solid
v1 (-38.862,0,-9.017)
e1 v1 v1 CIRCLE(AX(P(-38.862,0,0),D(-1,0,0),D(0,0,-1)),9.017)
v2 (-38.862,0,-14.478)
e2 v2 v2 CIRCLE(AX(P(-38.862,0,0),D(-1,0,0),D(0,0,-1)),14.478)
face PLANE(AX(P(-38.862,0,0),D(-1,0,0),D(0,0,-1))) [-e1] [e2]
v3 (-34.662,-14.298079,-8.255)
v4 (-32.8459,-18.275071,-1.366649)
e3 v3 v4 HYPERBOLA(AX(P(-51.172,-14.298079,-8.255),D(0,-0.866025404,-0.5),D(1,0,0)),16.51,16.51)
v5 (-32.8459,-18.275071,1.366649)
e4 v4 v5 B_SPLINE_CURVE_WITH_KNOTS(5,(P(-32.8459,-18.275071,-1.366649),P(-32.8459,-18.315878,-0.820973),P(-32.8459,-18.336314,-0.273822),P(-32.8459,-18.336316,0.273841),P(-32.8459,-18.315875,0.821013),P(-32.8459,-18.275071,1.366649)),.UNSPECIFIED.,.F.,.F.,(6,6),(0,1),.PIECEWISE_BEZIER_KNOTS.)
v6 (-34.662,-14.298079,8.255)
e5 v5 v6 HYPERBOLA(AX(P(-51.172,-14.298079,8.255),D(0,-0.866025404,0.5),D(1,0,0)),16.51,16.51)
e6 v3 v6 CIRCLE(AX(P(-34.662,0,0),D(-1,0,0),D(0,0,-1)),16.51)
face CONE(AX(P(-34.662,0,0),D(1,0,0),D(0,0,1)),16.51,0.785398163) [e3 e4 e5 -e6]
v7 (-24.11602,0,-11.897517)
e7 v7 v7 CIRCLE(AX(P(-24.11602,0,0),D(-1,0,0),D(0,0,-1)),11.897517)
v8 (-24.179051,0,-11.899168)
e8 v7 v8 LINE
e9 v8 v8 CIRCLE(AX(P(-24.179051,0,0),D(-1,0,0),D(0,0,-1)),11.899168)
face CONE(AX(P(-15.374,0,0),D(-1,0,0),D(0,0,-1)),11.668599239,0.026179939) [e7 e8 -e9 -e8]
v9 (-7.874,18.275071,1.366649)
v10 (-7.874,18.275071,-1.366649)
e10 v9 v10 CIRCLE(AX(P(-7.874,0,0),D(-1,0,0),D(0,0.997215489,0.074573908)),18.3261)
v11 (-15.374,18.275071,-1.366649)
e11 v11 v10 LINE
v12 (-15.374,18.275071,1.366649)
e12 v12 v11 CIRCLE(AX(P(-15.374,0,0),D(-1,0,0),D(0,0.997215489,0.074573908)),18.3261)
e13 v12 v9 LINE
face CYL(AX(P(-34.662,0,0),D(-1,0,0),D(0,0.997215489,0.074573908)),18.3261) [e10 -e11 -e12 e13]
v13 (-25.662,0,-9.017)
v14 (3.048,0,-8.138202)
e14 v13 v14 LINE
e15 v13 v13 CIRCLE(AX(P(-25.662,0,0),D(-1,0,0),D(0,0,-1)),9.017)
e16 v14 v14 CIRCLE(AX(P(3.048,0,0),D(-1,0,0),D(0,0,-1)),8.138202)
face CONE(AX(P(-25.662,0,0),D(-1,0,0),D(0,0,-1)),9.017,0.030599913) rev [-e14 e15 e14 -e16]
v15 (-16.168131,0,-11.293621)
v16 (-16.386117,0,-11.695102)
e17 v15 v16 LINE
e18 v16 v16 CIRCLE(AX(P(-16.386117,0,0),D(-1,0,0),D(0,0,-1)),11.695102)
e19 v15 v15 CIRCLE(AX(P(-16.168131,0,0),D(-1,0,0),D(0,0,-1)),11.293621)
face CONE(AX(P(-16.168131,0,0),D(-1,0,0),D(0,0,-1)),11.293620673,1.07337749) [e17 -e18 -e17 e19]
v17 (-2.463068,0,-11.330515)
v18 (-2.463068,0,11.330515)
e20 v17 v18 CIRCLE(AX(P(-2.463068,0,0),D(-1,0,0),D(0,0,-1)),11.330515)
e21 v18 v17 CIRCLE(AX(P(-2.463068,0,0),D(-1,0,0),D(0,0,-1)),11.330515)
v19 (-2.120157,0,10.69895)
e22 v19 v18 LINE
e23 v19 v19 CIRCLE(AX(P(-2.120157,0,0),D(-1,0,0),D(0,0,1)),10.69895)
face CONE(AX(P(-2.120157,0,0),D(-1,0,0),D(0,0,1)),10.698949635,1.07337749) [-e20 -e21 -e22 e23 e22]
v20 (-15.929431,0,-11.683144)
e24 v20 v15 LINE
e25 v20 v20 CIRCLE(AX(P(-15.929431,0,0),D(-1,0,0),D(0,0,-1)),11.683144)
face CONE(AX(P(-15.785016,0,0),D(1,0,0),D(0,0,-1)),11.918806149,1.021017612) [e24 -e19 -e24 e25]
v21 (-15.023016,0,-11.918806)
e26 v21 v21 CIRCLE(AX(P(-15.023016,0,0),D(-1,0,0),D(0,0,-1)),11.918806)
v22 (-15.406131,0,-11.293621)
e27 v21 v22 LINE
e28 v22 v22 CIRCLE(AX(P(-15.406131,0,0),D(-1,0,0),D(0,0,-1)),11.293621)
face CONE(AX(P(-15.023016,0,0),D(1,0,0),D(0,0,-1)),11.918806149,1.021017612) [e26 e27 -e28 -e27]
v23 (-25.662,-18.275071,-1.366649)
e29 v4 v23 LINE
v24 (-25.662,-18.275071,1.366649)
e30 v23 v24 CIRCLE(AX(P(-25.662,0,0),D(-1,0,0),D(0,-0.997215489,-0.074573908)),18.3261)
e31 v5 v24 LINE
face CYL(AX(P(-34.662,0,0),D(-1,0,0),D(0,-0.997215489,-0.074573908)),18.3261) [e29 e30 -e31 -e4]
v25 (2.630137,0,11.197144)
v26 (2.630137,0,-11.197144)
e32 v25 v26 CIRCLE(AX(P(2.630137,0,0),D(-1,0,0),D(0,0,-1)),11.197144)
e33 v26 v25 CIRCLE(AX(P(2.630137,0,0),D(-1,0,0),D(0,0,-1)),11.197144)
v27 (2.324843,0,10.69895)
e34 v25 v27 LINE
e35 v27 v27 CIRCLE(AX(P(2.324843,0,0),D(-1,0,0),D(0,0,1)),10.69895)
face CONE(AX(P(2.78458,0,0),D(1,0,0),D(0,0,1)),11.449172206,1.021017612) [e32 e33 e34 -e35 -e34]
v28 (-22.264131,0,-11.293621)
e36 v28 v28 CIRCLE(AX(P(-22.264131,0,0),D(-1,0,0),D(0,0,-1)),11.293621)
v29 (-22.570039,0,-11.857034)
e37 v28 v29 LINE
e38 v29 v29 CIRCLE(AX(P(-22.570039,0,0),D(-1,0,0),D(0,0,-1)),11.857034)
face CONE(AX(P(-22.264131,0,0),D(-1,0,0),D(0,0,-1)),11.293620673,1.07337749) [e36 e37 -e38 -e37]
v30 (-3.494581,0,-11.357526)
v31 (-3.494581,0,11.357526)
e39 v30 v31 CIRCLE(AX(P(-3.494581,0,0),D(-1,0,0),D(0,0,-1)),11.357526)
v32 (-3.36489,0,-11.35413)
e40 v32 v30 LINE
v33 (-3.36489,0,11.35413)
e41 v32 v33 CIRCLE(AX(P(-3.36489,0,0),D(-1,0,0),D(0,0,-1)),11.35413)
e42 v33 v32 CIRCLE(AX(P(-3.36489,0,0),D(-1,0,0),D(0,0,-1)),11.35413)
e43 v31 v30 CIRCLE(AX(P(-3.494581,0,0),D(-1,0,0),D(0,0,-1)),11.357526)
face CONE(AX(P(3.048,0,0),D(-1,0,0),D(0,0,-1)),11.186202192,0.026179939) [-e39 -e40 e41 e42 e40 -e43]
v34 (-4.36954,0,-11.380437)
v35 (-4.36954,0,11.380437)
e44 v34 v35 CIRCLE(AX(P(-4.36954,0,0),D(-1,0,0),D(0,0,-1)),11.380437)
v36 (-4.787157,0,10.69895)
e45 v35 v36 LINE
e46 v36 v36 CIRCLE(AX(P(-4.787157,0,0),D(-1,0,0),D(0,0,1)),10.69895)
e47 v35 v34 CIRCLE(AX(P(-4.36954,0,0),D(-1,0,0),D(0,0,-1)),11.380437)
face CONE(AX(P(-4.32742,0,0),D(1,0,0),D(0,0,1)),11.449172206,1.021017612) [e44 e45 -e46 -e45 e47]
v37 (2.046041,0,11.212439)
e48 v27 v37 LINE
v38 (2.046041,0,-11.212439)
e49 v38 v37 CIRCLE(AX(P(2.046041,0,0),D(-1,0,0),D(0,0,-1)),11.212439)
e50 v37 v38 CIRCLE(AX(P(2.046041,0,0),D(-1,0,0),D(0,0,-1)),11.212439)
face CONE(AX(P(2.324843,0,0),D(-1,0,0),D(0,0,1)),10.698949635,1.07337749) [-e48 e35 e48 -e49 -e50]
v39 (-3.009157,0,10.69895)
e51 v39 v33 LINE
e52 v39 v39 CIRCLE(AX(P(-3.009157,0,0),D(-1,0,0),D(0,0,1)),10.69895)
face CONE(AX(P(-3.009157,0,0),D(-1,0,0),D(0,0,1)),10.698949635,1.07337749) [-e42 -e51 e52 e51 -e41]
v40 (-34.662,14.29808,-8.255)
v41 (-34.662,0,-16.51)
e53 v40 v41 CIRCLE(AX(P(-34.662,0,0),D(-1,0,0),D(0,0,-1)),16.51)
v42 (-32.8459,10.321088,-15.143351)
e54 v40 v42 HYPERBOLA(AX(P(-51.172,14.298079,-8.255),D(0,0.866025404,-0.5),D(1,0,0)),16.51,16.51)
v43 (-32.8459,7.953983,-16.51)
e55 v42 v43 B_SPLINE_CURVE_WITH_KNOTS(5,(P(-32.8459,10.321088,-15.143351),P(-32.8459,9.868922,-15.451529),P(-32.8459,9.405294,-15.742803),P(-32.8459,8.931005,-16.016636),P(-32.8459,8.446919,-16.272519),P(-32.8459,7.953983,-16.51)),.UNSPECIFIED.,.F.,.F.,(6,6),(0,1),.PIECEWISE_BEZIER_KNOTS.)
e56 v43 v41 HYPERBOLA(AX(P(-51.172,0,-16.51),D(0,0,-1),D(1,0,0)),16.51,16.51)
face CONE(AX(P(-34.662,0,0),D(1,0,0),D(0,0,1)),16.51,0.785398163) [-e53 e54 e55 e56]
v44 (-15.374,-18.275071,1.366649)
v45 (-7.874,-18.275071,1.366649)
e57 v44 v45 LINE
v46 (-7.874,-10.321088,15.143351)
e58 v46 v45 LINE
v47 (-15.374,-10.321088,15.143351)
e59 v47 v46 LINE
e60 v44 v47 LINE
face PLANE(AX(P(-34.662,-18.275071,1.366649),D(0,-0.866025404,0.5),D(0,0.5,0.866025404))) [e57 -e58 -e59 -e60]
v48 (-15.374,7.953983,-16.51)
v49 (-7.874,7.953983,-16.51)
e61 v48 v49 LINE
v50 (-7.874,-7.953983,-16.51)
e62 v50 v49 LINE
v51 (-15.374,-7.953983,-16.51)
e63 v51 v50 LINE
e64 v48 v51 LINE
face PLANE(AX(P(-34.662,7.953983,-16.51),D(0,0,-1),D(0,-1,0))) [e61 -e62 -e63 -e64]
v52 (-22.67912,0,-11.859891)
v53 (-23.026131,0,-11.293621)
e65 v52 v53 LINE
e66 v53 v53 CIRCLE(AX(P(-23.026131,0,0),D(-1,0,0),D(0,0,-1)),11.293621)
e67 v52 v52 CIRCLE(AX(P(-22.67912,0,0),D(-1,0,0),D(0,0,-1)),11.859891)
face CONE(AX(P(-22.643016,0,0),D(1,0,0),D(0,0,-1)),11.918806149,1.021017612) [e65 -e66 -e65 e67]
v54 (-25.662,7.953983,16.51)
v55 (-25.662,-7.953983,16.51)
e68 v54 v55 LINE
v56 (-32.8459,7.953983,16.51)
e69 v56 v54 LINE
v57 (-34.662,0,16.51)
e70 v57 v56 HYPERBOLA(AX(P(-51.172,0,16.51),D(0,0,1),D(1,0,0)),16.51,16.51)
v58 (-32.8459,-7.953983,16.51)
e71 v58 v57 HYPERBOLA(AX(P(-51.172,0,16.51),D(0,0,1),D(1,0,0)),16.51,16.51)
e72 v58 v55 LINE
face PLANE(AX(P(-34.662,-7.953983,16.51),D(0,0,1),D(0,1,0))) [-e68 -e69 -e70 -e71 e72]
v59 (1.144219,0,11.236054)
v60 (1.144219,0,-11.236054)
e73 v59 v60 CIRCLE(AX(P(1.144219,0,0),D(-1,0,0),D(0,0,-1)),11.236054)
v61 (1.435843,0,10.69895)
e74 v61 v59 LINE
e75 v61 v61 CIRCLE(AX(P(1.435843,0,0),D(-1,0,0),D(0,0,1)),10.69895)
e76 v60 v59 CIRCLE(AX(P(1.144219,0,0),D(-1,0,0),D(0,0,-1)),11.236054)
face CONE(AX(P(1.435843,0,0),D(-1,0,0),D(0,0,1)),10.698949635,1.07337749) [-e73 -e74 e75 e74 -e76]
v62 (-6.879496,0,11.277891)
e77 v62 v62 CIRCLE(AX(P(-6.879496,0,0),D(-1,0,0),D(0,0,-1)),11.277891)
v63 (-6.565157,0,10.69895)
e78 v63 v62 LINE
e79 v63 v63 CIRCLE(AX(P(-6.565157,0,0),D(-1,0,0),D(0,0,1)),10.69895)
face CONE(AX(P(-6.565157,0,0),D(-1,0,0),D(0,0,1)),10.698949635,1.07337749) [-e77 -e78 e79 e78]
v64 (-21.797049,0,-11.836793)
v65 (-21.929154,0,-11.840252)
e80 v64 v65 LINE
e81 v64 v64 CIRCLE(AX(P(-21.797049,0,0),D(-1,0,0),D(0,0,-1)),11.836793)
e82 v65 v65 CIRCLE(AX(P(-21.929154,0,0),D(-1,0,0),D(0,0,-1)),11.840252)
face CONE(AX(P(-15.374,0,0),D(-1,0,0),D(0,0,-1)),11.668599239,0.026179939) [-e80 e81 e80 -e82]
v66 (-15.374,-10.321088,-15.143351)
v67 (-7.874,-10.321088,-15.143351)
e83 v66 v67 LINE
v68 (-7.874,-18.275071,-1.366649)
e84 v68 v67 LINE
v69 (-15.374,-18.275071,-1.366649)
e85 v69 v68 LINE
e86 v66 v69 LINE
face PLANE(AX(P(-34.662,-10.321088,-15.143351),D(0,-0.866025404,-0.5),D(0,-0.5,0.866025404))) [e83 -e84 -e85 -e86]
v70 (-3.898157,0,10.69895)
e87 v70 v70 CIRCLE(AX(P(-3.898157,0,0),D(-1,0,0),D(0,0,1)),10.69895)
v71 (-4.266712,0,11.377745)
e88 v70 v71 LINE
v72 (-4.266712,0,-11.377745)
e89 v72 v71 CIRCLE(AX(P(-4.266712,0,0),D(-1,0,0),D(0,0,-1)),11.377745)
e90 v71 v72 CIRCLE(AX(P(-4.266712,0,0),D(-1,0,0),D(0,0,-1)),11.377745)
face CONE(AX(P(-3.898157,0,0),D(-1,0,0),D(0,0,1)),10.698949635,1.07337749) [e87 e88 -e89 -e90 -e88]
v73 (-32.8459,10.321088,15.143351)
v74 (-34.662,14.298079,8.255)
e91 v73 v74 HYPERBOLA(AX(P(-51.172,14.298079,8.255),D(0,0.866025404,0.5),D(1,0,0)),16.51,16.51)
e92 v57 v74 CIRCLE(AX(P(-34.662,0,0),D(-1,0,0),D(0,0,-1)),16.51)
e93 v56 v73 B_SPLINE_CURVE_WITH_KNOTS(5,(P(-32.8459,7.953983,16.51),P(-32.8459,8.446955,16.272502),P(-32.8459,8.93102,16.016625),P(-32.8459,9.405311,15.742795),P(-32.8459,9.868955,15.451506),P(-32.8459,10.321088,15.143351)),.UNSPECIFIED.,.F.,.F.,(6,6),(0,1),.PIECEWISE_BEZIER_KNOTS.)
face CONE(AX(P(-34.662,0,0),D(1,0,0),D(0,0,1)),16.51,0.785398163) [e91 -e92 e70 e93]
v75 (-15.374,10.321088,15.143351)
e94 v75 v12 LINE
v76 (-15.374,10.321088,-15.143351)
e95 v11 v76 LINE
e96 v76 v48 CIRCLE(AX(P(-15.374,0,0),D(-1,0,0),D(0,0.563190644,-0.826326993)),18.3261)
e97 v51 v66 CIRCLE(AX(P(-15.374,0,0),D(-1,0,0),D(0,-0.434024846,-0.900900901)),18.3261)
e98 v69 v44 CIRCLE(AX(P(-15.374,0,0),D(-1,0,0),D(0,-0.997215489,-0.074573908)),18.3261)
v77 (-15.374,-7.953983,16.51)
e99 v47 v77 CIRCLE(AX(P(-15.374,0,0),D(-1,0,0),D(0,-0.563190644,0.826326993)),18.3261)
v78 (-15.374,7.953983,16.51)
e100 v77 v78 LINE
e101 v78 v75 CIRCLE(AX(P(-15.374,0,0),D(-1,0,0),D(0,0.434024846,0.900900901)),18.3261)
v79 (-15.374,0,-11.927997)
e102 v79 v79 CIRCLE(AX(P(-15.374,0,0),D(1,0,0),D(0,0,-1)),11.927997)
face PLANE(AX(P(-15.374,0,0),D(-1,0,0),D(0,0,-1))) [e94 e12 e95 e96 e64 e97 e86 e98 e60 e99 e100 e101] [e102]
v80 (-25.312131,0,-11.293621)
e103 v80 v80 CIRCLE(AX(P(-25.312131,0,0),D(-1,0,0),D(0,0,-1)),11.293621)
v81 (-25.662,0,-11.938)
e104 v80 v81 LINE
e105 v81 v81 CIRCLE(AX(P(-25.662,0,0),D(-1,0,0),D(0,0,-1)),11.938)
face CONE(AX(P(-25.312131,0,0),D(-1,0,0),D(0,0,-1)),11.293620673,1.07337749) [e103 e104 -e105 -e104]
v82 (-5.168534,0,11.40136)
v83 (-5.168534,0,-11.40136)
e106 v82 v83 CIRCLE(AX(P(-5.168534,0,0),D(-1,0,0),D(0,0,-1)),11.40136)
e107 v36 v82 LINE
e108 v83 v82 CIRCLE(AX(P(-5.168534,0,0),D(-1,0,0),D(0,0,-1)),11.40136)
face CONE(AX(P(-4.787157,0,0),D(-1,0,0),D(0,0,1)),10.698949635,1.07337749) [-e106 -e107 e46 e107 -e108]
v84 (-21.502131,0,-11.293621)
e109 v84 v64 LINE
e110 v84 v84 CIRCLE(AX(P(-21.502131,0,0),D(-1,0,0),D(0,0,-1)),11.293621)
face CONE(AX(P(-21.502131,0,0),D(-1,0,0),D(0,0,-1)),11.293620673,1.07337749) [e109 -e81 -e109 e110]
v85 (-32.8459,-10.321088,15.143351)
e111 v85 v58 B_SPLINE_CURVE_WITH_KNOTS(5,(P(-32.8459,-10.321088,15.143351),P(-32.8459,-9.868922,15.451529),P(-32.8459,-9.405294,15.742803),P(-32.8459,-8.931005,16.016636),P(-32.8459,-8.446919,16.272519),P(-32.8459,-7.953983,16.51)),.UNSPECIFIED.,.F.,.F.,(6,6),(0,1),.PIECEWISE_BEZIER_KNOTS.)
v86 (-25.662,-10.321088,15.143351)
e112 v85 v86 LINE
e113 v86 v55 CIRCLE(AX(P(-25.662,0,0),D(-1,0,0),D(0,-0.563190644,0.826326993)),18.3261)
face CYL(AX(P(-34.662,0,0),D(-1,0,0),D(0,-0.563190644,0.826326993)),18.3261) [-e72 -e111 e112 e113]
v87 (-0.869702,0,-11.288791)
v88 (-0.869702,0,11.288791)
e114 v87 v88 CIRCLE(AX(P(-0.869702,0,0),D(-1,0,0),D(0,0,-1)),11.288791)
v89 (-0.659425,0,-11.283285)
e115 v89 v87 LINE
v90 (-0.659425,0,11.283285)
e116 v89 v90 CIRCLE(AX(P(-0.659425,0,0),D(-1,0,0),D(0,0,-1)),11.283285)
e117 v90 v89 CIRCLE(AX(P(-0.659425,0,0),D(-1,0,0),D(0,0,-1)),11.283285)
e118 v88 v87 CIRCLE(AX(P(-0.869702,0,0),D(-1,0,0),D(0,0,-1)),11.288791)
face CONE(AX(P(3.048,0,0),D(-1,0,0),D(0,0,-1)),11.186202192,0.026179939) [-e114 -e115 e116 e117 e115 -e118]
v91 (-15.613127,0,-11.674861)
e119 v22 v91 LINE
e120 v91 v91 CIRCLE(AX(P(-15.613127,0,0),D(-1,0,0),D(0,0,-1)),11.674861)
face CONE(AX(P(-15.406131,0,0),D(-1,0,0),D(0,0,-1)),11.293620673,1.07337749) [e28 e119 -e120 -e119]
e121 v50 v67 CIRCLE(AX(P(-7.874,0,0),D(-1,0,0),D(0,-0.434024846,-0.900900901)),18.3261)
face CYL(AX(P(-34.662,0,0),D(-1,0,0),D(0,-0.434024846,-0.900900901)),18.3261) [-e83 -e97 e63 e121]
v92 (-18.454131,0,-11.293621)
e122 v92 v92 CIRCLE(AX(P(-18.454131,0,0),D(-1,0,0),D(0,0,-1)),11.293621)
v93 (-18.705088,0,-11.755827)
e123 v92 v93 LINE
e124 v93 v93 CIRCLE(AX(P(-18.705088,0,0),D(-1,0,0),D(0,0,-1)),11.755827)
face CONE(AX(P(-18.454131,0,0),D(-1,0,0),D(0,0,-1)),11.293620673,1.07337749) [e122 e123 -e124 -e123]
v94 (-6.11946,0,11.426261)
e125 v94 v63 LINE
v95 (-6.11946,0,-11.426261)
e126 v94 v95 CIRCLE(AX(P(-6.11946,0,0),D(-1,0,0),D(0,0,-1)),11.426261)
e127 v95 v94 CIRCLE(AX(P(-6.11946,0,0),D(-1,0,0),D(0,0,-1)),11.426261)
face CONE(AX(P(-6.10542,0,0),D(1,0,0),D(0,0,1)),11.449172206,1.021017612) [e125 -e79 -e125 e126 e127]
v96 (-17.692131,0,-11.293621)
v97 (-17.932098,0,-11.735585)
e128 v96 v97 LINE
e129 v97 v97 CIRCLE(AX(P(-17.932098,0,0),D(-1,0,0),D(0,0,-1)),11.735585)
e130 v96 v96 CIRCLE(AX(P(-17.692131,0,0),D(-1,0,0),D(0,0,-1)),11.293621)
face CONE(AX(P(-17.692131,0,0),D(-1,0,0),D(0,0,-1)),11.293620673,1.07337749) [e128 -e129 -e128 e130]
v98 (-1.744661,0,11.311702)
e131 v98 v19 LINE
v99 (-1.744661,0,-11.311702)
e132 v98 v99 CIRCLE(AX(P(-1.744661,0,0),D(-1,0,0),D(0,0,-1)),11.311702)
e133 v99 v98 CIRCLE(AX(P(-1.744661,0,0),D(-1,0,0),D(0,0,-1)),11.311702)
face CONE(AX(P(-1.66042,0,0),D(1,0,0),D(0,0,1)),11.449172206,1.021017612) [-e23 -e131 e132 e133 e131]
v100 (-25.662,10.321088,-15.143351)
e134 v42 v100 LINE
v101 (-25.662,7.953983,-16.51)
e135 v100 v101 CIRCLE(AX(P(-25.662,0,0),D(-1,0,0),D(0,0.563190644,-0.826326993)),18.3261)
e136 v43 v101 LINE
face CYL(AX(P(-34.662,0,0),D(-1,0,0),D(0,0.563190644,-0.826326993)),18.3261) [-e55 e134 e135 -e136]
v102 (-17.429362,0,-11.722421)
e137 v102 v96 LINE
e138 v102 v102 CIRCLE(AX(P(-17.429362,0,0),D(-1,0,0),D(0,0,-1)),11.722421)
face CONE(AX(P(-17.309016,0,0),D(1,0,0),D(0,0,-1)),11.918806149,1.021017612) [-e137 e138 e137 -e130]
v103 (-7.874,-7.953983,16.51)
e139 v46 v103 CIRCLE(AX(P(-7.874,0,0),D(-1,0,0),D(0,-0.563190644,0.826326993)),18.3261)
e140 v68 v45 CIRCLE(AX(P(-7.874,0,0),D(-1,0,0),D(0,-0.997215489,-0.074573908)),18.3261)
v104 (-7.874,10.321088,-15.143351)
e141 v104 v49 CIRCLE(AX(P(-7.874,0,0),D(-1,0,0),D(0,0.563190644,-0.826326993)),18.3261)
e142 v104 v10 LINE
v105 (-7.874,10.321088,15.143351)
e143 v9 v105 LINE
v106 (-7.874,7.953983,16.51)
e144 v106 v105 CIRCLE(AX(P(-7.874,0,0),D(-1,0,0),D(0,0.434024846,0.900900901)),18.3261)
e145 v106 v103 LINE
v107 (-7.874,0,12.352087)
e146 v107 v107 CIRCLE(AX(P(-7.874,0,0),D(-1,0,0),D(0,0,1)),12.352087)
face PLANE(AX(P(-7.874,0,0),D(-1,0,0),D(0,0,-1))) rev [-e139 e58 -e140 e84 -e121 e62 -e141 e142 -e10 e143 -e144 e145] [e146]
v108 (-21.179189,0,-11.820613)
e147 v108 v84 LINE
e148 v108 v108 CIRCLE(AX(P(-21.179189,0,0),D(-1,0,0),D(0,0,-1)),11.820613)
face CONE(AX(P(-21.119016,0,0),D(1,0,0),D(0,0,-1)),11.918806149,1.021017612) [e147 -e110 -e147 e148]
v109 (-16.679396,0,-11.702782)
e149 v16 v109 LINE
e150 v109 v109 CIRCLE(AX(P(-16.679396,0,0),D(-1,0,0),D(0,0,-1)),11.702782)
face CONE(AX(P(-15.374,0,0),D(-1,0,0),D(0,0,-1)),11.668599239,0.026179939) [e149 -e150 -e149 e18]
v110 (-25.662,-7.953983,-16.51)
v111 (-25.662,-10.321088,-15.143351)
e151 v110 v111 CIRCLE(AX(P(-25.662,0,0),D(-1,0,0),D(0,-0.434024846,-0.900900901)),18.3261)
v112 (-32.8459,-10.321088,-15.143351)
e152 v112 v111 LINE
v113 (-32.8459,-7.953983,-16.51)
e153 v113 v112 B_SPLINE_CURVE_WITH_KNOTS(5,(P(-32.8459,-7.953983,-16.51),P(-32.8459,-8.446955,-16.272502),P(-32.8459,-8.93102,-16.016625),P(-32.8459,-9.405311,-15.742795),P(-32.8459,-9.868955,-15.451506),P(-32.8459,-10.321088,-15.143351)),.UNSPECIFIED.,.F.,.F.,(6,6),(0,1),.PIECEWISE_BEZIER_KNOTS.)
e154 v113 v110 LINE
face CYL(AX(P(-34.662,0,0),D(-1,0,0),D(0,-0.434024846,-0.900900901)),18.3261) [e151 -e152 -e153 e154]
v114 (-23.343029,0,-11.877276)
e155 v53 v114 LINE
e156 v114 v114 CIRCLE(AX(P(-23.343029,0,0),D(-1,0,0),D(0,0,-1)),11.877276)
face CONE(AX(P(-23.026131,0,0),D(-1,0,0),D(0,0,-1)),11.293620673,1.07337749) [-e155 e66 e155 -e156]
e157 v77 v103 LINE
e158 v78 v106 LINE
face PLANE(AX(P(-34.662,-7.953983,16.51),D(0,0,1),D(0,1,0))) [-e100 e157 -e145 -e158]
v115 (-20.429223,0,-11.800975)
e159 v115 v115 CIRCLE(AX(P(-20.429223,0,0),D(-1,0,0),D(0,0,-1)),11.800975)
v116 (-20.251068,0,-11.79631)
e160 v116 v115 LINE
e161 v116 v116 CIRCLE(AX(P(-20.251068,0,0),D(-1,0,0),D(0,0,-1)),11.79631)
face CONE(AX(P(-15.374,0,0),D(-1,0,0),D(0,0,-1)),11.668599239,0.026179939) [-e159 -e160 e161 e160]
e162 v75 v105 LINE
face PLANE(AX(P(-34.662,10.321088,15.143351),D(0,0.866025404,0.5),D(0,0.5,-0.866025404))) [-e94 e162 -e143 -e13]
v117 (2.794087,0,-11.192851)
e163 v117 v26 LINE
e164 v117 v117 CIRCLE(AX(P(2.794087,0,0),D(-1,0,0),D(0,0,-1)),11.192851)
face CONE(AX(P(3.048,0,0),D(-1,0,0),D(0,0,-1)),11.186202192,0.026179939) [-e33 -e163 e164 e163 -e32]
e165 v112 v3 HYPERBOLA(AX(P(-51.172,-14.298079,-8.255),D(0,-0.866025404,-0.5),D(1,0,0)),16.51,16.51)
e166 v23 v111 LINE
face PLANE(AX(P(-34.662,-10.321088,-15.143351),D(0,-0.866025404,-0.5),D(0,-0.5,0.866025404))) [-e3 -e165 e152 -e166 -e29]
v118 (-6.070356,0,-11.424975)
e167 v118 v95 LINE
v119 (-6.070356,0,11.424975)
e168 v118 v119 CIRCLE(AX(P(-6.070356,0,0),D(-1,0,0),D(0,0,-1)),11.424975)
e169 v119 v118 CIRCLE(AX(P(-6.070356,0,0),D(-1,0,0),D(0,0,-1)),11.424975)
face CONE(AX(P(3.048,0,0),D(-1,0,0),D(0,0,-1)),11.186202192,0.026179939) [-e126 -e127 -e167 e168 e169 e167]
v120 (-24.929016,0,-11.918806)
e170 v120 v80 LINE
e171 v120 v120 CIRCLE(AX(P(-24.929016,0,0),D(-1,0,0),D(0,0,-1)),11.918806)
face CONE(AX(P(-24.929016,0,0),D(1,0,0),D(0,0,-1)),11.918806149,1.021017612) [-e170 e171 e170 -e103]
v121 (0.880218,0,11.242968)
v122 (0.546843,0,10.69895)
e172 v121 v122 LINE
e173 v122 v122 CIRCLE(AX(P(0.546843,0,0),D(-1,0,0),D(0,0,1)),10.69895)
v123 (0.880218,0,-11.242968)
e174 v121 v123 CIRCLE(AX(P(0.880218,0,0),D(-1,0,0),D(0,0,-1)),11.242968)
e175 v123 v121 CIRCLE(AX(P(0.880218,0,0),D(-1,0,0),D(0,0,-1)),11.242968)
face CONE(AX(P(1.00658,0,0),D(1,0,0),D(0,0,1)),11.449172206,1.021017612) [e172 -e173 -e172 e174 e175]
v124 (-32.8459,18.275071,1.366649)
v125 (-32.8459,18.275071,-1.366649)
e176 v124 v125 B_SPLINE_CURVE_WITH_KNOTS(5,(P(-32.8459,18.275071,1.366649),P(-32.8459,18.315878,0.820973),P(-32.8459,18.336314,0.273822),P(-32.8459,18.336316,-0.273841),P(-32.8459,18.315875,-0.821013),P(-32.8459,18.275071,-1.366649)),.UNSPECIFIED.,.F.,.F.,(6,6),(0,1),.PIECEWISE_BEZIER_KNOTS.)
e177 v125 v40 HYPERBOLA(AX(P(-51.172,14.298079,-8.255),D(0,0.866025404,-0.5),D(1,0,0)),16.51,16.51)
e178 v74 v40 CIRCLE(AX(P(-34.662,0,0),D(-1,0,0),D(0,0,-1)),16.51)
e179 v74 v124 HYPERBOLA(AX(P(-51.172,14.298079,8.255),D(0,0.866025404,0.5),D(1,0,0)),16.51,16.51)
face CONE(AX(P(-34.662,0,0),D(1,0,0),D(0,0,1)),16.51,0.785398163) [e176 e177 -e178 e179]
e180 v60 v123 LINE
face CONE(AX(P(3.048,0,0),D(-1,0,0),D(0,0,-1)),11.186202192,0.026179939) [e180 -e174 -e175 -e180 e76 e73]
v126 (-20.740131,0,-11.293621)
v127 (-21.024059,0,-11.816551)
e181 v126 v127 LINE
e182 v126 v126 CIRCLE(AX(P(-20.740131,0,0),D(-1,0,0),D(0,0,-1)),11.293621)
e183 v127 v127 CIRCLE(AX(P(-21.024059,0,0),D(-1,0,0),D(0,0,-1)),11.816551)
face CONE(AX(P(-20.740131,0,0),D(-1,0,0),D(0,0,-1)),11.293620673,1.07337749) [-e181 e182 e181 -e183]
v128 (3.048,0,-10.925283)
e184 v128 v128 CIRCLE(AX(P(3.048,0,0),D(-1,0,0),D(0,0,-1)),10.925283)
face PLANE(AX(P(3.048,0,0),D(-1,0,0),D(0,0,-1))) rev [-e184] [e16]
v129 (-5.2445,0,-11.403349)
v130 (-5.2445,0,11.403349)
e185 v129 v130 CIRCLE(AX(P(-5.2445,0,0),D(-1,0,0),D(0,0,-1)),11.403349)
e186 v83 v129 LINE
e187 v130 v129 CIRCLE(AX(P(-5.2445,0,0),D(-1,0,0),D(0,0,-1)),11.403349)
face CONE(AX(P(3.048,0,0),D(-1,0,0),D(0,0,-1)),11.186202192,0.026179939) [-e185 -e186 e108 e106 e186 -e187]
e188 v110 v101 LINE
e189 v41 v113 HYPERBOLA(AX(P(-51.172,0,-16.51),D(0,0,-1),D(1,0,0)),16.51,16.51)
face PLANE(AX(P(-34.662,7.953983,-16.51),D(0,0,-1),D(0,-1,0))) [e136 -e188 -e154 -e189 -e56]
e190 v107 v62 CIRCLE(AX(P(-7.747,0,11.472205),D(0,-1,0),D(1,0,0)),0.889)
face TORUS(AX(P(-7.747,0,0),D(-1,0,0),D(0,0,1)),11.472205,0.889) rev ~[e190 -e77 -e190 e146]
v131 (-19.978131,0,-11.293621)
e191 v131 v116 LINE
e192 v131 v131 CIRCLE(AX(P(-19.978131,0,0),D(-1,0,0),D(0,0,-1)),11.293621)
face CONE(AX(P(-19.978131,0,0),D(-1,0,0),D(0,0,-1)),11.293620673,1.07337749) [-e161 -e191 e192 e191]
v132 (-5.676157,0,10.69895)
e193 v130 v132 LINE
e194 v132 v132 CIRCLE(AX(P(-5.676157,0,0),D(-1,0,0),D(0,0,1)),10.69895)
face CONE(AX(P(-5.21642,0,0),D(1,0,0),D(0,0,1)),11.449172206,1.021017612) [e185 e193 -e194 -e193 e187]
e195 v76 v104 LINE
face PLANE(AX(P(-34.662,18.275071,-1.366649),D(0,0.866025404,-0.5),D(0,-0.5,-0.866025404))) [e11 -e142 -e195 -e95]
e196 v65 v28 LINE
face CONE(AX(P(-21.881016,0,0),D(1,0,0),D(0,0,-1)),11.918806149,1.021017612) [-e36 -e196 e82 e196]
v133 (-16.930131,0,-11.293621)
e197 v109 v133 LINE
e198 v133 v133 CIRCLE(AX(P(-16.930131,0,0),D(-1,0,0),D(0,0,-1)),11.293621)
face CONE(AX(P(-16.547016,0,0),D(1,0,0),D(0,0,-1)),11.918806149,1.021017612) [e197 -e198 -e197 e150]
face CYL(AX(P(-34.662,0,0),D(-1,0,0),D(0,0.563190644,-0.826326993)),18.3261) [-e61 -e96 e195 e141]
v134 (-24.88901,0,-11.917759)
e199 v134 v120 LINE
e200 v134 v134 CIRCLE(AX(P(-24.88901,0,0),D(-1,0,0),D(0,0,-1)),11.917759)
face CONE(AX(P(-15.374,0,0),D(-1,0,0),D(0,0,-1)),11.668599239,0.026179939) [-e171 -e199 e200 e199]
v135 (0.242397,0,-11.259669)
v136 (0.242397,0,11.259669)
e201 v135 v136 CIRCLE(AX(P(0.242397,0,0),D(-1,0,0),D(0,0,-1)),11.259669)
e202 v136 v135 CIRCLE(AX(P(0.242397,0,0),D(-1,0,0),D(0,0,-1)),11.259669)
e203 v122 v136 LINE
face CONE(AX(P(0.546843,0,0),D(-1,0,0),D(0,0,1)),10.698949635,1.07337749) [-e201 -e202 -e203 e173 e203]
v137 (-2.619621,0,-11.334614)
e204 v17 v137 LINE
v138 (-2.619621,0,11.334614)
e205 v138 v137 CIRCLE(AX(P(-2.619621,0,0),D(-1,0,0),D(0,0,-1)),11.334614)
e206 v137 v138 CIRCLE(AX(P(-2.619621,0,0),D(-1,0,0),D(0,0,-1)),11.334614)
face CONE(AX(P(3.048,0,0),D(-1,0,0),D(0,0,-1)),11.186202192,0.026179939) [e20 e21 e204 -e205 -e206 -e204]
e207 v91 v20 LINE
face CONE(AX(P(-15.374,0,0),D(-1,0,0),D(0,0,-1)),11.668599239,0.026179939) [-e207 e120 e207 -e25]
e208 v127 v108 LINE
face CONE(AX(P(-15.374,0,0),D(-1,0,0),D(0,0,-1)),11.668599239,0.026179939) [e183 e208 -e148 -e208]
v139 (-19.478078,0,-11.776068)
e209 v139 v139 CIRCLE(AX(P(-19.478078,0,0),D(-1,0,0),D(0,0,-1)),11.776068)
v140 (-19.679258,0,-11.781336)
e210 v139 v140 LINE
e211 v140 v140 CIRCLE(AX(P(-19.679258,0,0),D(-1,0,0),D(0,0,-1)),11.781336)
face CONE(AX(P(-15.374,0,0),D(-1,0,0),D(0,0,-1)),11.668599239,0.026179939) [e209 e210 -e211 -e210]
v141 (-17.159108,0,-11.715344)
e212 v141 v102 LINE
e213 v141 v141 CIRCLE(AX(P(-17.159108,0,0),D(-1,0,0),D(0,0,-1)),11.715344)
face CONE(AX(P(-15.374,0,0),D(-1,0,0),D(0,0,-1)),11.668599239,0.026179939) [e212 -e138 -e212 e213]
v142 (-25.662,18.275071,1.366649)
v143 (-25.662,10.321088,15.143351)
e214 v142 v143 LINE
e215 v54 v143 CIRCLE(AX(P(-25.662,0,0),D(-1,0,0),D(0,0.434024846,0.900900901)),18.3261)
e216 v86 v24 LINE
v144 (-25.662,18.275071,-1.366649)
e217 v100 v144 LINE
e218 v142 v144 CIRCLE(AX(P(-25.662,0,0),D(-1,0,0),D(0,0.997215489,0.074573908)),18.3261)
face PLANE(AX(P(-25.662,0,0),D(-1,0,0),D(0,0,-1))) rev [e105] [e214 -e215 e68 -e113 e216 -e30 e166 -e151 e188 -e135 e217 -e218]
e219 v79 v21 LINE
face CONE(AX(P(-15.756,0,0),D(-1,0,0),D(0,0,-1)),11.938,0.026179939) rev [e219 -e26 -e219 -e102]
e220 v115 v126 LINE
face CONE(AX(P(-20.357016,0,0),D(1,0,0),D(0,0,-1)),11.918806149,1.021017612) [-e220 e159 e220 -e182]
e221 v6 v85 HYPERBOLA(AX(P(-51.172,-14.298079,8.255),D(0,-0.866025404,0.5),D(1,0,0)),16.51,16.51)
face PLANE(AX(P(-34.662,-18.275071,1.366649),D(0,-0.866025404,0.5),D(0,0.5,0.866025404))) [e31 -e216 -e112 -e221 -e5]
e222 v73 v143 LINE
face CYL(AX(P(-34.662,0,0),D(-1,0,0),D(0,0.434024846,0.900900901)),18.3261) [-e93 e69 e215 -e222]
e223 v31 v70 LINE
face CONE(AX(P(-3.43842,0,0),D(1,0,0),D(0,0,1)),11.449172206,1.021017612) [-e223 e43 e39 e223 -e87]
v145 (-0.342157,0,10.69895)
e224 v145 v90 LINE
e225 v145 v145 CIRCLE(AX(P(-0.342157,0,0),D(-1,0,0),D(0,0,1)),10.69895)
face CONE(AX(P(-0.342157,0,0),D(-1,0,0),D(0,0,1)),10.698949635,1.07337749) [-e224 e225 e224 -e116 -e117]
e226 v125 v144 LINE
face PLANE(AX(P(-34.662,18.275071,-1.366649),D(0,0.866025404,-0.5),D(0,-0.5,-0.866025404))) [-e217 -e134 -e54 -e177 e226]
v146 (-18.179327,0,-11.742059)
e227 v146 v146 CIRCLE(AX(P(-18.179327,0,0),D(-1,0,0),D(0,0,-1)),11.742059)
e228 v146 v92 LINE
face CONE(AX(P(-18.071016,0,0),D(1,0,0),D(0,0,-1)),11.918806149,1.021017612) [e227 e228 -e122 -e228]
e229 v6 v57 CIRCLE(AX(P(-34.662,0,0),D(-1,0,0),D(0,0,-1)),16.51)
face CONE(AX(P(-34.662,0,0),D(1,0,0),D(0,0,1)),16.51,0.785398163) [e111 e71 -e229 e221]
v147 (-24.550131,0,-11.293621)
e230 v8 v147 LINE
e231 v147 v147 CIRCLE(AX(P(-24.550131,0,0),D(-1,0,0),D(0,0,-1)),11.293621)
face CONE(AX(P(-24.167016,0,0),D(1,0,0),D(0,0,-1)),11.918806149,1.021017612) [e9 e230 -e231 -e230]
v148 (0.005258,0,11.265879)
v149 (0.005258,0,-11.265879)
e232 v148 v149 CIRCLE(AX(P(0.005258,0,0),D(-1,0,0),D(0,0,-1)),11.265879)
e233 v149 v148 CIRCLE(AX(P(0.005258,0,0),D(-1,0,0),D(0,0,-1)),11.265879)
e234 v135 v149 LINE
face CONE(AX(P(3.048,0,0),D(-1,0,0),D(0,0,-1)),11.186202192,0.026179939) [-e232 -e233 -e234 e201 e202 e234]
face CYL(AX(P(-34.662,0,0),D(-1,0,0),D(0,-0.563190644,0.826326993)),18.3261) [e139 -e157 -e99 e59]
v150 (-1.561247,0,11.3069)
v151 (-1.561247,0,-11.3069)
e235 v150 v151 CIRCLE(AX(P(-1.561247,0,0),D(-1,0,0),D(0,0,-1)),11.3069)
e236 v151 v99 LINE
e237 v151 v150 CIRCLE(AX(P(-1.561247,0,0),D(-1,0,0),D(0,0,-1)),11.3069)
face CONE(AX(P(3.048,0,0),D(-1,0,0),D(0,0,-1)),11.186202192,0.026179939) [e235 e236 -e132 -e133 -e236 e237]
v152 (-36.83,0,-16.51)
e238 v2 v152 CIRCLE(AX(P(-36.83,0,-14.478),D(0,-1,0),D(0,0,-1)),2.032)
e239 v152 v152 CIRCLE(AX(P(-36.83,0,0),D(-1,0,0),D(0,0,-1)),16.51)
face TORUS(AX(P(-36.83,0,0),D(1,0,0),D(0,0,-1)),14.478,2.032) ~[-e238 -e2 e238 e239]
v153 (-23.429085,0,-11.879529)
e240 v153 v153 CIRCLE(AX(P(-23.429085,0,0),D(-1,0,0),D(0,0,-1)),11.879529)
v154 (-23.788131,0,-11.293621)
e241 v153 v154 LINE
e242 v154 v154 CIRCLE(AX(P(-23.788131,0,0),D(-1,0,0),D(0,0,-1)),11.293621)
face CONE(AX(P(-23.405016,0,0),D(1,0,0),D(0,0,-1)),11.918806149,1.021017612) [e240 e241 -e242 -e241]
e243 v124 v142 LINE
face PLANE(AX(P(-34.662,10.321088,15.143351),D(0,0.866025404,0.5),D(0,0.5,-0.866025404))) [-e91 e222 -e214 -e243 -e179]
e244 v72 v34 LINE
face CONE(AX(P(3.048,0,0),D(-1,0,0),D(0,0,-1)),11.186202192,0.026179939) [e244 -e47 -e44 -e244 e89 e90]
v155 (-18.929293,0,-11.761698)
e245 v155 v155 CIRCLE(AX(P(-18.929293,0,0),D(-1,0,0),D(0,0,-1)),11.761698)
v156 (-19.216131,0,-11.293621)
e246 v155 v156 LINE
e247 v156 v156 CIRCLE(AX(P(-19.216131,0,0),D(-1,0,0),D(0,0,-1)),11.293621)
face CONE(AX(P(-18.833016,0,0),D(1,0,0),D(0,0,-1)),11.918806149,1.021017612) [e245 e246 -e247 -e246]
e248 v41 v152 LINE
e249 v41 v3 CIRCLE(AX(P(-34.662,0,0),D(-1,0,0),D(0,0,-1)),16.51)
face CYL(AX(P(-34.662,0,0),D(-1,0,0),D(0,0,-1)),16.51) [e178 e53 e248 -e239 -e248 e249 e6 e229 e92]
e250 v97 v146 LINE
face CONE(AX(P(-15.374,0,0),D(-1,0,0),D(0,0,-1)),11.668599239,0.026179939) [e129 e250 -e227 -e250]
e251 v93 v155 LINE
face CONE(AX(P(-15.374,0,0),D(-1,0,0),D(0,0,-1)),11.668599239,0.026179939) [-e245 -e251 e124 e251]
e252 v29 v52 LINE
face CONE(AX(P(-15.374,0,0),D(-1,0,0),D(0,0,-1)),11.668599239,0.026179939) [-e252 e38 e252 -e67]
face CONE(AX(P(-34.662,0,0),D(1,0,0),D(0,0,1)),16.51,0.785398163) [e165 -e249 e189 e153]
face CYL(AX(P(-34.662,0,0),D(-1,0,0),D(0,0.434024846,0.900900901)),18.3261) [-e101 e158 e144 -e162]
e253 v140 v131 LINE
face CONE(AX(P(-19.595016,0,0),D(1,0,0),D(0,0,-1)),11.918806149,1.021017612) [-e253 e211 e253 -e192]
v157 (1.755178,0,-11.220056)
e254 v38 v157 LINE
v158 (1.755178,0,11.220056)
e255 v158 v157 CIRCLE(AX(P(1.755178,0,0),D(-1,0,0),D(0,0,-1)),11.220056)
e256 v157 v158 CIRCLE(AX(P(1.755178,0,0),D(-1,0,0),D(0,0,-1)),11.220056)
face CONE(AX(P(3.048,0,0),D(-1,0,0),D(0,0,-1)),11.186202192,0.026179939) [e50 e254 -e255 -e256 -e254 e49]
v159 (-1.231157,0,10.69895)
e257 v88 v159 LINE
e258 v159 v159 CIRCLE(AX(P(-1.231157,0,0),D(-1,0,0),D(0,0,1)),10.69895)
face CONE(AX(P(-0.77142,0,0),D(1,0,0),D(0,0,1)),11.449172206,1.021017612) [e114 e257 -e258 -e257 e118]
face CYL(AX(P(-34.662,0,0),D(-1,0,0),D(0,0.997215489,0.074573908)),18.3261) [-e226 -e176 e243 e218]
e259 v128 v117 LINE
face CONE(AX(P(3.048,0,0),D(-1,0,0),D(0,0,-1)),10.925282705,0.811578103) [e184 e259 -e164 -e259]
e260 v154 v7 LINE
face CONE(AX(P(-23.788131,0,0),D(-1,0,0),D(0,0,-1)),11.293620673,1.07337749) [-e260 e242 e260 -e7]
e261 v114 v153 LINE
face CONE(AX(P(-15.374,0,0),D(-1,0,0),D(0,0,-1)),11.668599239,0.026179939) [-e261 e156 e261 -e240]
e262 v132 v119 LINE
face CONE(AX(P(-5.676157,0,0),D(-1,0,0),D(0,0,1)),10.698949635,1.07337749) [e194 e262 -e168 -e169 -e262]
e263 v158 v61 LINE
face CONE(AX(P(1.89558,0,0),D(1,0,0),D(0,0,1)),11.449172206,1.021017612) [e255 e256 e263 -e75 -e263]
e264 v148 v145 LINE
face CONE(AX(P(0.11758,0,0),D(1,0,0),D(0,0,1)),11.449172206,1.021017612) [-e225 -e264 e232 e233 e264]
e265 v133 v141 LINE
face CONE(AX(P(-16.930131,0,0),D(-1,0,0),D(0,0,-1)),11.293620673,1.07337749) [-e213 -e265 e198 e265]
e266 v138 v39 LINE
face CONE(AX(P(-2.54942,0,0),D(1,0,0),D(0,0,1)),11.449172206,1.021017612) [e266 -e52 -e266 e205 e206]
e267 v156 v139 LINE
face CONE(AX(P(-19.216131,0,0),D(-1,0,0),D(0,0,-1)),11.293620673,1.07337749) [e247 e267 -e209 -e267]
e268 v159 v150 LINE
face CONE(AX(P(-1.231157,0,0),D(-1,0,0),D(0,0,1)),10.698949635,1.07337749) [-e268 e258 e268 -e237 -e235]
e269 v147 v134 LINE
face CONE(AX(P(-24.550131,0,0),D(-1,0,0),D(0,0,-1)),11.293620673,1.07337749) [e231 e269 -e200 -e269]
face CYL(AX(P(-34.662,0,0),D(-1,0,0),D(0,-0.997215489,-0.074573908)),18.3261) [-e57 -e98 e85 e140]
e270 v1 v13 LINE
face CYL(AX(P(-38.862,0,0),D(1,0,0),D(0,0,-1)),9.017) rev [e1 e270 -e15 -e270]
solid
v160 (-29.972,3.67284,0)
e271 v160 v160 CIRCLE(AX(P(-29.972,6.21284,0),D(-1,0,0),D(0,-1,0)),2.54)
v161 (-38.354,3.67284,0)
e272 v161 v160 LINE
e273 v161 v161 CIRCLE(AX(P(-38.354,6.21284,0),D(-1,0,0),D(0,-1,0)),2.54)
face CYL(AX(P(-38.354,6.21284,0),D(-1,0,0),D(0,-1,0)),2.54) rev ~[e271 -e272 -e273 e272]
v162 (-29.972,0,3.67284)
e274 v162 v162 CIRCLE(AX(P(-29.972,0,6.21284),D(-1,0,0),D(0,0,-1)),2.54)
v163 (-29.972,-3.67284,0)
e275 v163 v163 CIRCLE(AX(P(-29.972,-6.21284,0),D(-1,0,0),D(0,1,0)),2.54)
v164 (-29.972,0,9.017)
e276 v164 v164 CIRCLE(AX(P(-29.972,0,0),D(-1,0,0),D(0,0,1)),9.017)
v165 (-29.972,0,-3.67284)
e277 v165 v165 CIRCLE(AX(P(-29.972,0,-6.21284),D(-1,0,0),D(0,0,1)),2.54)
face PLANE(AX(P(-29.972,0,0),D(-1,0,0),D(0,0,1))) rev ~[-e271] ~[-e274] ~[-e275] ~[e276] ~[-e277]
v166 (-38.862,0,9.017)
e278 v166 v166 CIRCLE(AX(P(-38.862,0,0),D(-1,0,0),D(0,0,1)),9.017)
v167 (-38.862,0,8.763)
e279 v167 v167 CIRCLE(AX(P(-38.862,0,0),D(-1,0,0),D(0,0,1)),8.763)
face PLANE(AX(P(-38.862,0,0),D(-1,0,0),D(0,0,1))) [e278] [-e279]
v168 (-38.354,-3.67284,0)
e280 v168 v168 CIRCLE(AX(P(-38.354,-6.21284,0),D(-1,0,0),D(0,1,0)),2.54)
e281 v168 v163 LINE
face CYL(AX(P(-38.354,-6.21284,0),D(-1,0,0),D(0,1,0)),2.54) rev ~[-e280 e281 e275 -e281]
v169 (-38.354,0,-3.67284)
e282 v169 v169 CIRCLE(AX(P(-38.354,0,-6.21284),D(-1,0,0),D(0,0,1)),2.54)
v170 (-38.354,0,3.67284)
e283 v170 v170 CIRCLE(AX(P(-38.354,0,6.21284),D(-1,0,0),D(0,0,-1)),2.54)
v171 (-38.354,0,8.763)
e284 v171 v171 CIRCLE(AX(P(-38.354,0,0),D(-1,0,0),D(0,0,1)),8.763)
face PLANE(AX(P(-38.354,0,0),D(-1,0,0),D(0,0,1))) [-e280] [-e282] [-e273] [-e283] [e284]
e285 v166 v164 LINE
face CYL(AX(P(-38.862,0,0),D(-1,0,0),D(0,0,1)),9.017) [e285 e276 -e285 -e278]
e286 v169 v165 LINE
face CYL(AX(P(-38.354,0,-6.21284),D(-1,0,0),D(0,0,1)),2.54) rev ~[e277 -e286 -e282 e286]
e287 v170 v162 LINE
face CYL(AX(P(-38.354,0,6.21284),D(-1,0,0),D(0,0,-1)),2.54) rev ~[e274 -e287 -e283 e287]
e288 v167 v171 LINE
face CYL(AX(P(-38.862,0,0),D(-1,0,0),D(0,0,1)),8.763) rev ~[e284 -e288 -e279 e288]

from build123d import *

# Parameters (mm, degrees)
SKETCH12_OUTSIDE_W = 88.514
SKETCH12_OUTSIDE_H = 88.514
CUT_EXTRUDE2_DEPTH = 38.71
FILLET4_R          = 2.032
SKETCH19_OUTSIDE_W = 55.962
SKETCH19_OUTSIDE_H = 59.594
SKETCH19_OUTSIDE_R = 16.51
CUT_EXTRUDE3_DEPTH = 3.99796
CUT_EXTRUDE3_DRAFT = -45
CHAMFER1_SIZE      = 0.260919487
CHAMFER1_SIZE2     = 0.254
SKETCH21_R         = 9.017
PLUG_DEPTH         = 8.89
SKETCH22_R         = 8.763
CUT_EXTRUDE4_DEPTH = 0.508
SKETCH27_R         = 2.54
PLUGHOLES_DEPTH    = 42.402
CIRPATTERN1_COUNT  = 4
LPATTERN1_COUNT    = 14
LPATTERN1_PITCH    = 0.762
LPATTERN2_COUNT    = 12
LPATTERN2_PITCH    = 0.889
SKETCH32_R         = 0.889


with BuildPart() as part:
    # Sketch10 → Revolve2 (revolve)
    with BuildSketch(Plane.XY, mode=Mode.PRIVATE) as revolve2_sk:
        Polygon((-38.862, 9.017), (-25.662, 9.017), (3.048, 8.138202192), (3.048, 11.186202192), (-7.874, 11.472204827), (-7.874, 33.02), (-15.374, 33.02), (-15.374, 11.668599239), (-25.662, 11.938), (-25.662, 33.02), (-34.662, 33.02), (-34.662, 16.51), (-38.862, 16.51), align=None)
    revolve(revolve2_sk.sketch.rotate(Axis((0, 0, 0), (-1, 0, 0)), 90), axis=Axis((0, 0, 0), (-1, 0, 0)))  # turned: the seam where the file's is

    # Sketch12 outside → Cut-Extrude2 (cut, through all)
    with BuildSketch(Plane.ZY.offset(34.662)):
        Rectangle(SKETCH12_OUTSIDE_W, SKETCH12_OUTSIDE_H)
        with BuildLine():
            Line((-1.366648898, 18.27507078), (-15.143351102, 10.321088053))
            ThreePointArc((-15.143351102, 10.321088053), (-15.870868152, 9.16305), (-16.51, 7.953982726))
            Line((-16.51, 7.953982726), (-16.51, -7.953982726))
            ThreePointArc((-16.51, -7.953982726), (-15.870868152, -9.16305), (-15.143351102, -10.321088053))
            Line((-15.143351102, -10.321088053), (-1.366648898, -18.27507078))
            ThreePointArc((-1.366648898, -18.27507078), (0, -18.3261), (1.366648898, -18.27507078))
            Line((1.366648898, -18.27507078), (15.143351102, -10.321088053))
            ThreePointArc((15.143351102, -10.321088053), (15.870868152, -9.16305), (16.51, -7.953982726))
            Line((16.51, -7.953982726), (16.51, 7.953982726))
            ThreePointArc((16.51, 7.953982726), (15.870868152, 9.16305), (15.143351102, 10.321088053))
            Line((15.143351102, 10.321088053), (1.366648898, 18.27507078))
            ThreePointArc((1.366648898, 18.27507078), (0, 18.3261), (-1.366648898, 18.27507078))
        make_face(mode=Mode.SUBTRACT)
    extrude(amount=-CUT_EXTRUDE2_DEPTH, mode=Mode.SUBTRACT)

    # Fillet4
    fillet4_edges = [part.edges().sort_by_distance(p)[0] for p in [
        (-38.862, 0, 16.51),
    ]]
    fillet(fillet4_edges, radius=FILLET4_R)


with BuildPart() as cut_extrude3_tool:
    # Sketch19 outside → Cut-Extrude3 (with draft: the straight prism first)
    with BuildSketch(Plane.ZY.offset(34.662)):
        Rectangle(SKETCH19_OUTSIDE_W, SKETCH19_OUTSIDE_H)
        Circle(SKETCH19_OUTSIDE_R, mode=Mode.SUBTRACT)
    extrude(amount=-CUT_EXTRUDE3_DEPTH)
    # Cut-Extrude3: the draft: its side faces are tilted about the plane it starts from
    cut_extrude3_sides = [cut_extrude3_tool.faces().sort_by_distance(p)[0] for p in [
        (-32.66302, -29.797, 0),
        (-32.66302, 0, 27.981),
        (-32.66302, 29.797, 0),
        (-32.66302, 0, -27.981),
        (-32.66302, 0, -16.51),
    ]]
    draft(cut_extrude3_sides, Plane.ZY.offset(34.662), CUT_EXTRUDE3_DRAFT)


with BuildPart() as part_1:
    add(part.part)

    # Cut-Extrude3: cut by cut_extrude3_tool
    add(cut_extrude3_tool.part, mode=Mode.SUBTRACT)

    # Chamfer1
    chamfer1_edges = [part_1.edges().sort_by_distance(p)[0] for p in [
        (3.048, 0, 11.186202192),
    ]]
    chamfer1_side = [part_1.faces().sort_by_distance(p)[0] for p in [
        (3.048, 0, 8.454595769),
    ]]
    chamfer(chamfer1_edges, length=CHAMFER1_SIZE, length2=CHAMFER1_SIZE2, reference=chamfer1_side[0])

    # Sketch29 → Cut-Revolve1 (revolve, cut)
    with BuildSketch(Plane.XY, mode=Mode.PRIVATE) as cut_revolve1_sk:
        Polygon((-25.662, 11.938), (-24.929016419, 11.918806149), (-25.312130572, 11.293620673), align=None)
    cut_revolve1 = revolve(cut_revolve1_sk.sketch.rotate(Axis((0, 0, 0), (-1, 0, 0)), 90), axis=Axis((0, 0, 0), (-1, 0, 0)), mode=Mode.SUBTRACT)  # turned: the seam where the file's is

    # LPattern1: Cut-Revolve1 ×14
    with Locations(*[(i * LPATTERN1_PITCH, 0, 0) for i in range(1, LPATTERN1_COUNT)]):
        add(cut_revolve1, mode=Mode.SUBTRACT)

    # Sketch30 → Cut-Revolve2 (revolve, cut)
    with BuildSketch(Plane.XY, mode=Mode.PRIVATE) as cut_revolve2_sk:
        Polygon((-7.874, 11.472204827), (-6.994419703, 11.449172206), (-7.454156686, 10.698949635), align=None)
    cut_revolve2 = revolve(cut_revolve2_sk.sketch.rotate(Axis((0, 0, 0), (-1, 0, 0)), 270), axis=Axis((0, 0, 0), (-1, 0, 0)), mode=Mode.SUBTRACT)  # turned: the seam where the file's is

    # LPattern2: Cut-Revolve2 ×12
    with Locations(*[(i * LPATTERN2_PITCH, 0, 0) for i in range(1, LPATTERN2_COUNT)]):
        add(cut_revolve2, mode=Mode.SUBTRACT)

    # Sketch32 → Cut-Revolve3 (revolve, cut)
    with BuildSketch(Plane.XY, mode=Mode.PRIVATE) as cut_revolve3_sk:
        with Locations((-7.747, 11.472204827)):
            Circle(SKETCH32_R)
    revolve(cut_revolve3_sk.sketch.rotate(Axis((0, 0, 0), (-1, 0, 0)), 270), axis=Axis((0, 0, 0), (-1, 0, 0)), mode=Mode.SUBTRACT)  # turned: the seam where the file's is


with BuildPart() as body_2:
    # Sketch21 → plug (new body)
    with BuildSketch(Plane.ZY.offset(38.862)):
        Circle(SKETCH21_R)
    extrude(amount=-PLUG_DEPTH)

    # Sketch22 → Cut-Extrude4 (cut)
    with BuildSketch(Plane.ZY.offset(38.862)):
        Circle(SKETCH22_R)
    extrude(amount=-CUT_EXTRUDE4_DEPTH, mode=Mode.SUBTRACT)

    # Sketch27 → plugholes (cut, through all)
    with BuildSketch(Plane.ZY.offset(38.354)):
        with Locations((-6.21284, 0)):
            Circle(SKETCH27_R)
    plugholes = extrude(amount=-PLUGHOLES_DEPTH, mode=Mode.SUBTRACT)

    # CirPattern1: plugholes ×4 about axis
    cirpattern1_axis = Axis((0, 0, 0), (1, 0, 0))
    for i in range(1, CIRPATTERN1_COUNT):
        add(plugholes.rotate(cirpattern1_axis, i * 360 / CIRPATTERN1_COUNT), mode=Mode.SUBTRACT)


solid = Compound([part_1.part, body_2.part])
